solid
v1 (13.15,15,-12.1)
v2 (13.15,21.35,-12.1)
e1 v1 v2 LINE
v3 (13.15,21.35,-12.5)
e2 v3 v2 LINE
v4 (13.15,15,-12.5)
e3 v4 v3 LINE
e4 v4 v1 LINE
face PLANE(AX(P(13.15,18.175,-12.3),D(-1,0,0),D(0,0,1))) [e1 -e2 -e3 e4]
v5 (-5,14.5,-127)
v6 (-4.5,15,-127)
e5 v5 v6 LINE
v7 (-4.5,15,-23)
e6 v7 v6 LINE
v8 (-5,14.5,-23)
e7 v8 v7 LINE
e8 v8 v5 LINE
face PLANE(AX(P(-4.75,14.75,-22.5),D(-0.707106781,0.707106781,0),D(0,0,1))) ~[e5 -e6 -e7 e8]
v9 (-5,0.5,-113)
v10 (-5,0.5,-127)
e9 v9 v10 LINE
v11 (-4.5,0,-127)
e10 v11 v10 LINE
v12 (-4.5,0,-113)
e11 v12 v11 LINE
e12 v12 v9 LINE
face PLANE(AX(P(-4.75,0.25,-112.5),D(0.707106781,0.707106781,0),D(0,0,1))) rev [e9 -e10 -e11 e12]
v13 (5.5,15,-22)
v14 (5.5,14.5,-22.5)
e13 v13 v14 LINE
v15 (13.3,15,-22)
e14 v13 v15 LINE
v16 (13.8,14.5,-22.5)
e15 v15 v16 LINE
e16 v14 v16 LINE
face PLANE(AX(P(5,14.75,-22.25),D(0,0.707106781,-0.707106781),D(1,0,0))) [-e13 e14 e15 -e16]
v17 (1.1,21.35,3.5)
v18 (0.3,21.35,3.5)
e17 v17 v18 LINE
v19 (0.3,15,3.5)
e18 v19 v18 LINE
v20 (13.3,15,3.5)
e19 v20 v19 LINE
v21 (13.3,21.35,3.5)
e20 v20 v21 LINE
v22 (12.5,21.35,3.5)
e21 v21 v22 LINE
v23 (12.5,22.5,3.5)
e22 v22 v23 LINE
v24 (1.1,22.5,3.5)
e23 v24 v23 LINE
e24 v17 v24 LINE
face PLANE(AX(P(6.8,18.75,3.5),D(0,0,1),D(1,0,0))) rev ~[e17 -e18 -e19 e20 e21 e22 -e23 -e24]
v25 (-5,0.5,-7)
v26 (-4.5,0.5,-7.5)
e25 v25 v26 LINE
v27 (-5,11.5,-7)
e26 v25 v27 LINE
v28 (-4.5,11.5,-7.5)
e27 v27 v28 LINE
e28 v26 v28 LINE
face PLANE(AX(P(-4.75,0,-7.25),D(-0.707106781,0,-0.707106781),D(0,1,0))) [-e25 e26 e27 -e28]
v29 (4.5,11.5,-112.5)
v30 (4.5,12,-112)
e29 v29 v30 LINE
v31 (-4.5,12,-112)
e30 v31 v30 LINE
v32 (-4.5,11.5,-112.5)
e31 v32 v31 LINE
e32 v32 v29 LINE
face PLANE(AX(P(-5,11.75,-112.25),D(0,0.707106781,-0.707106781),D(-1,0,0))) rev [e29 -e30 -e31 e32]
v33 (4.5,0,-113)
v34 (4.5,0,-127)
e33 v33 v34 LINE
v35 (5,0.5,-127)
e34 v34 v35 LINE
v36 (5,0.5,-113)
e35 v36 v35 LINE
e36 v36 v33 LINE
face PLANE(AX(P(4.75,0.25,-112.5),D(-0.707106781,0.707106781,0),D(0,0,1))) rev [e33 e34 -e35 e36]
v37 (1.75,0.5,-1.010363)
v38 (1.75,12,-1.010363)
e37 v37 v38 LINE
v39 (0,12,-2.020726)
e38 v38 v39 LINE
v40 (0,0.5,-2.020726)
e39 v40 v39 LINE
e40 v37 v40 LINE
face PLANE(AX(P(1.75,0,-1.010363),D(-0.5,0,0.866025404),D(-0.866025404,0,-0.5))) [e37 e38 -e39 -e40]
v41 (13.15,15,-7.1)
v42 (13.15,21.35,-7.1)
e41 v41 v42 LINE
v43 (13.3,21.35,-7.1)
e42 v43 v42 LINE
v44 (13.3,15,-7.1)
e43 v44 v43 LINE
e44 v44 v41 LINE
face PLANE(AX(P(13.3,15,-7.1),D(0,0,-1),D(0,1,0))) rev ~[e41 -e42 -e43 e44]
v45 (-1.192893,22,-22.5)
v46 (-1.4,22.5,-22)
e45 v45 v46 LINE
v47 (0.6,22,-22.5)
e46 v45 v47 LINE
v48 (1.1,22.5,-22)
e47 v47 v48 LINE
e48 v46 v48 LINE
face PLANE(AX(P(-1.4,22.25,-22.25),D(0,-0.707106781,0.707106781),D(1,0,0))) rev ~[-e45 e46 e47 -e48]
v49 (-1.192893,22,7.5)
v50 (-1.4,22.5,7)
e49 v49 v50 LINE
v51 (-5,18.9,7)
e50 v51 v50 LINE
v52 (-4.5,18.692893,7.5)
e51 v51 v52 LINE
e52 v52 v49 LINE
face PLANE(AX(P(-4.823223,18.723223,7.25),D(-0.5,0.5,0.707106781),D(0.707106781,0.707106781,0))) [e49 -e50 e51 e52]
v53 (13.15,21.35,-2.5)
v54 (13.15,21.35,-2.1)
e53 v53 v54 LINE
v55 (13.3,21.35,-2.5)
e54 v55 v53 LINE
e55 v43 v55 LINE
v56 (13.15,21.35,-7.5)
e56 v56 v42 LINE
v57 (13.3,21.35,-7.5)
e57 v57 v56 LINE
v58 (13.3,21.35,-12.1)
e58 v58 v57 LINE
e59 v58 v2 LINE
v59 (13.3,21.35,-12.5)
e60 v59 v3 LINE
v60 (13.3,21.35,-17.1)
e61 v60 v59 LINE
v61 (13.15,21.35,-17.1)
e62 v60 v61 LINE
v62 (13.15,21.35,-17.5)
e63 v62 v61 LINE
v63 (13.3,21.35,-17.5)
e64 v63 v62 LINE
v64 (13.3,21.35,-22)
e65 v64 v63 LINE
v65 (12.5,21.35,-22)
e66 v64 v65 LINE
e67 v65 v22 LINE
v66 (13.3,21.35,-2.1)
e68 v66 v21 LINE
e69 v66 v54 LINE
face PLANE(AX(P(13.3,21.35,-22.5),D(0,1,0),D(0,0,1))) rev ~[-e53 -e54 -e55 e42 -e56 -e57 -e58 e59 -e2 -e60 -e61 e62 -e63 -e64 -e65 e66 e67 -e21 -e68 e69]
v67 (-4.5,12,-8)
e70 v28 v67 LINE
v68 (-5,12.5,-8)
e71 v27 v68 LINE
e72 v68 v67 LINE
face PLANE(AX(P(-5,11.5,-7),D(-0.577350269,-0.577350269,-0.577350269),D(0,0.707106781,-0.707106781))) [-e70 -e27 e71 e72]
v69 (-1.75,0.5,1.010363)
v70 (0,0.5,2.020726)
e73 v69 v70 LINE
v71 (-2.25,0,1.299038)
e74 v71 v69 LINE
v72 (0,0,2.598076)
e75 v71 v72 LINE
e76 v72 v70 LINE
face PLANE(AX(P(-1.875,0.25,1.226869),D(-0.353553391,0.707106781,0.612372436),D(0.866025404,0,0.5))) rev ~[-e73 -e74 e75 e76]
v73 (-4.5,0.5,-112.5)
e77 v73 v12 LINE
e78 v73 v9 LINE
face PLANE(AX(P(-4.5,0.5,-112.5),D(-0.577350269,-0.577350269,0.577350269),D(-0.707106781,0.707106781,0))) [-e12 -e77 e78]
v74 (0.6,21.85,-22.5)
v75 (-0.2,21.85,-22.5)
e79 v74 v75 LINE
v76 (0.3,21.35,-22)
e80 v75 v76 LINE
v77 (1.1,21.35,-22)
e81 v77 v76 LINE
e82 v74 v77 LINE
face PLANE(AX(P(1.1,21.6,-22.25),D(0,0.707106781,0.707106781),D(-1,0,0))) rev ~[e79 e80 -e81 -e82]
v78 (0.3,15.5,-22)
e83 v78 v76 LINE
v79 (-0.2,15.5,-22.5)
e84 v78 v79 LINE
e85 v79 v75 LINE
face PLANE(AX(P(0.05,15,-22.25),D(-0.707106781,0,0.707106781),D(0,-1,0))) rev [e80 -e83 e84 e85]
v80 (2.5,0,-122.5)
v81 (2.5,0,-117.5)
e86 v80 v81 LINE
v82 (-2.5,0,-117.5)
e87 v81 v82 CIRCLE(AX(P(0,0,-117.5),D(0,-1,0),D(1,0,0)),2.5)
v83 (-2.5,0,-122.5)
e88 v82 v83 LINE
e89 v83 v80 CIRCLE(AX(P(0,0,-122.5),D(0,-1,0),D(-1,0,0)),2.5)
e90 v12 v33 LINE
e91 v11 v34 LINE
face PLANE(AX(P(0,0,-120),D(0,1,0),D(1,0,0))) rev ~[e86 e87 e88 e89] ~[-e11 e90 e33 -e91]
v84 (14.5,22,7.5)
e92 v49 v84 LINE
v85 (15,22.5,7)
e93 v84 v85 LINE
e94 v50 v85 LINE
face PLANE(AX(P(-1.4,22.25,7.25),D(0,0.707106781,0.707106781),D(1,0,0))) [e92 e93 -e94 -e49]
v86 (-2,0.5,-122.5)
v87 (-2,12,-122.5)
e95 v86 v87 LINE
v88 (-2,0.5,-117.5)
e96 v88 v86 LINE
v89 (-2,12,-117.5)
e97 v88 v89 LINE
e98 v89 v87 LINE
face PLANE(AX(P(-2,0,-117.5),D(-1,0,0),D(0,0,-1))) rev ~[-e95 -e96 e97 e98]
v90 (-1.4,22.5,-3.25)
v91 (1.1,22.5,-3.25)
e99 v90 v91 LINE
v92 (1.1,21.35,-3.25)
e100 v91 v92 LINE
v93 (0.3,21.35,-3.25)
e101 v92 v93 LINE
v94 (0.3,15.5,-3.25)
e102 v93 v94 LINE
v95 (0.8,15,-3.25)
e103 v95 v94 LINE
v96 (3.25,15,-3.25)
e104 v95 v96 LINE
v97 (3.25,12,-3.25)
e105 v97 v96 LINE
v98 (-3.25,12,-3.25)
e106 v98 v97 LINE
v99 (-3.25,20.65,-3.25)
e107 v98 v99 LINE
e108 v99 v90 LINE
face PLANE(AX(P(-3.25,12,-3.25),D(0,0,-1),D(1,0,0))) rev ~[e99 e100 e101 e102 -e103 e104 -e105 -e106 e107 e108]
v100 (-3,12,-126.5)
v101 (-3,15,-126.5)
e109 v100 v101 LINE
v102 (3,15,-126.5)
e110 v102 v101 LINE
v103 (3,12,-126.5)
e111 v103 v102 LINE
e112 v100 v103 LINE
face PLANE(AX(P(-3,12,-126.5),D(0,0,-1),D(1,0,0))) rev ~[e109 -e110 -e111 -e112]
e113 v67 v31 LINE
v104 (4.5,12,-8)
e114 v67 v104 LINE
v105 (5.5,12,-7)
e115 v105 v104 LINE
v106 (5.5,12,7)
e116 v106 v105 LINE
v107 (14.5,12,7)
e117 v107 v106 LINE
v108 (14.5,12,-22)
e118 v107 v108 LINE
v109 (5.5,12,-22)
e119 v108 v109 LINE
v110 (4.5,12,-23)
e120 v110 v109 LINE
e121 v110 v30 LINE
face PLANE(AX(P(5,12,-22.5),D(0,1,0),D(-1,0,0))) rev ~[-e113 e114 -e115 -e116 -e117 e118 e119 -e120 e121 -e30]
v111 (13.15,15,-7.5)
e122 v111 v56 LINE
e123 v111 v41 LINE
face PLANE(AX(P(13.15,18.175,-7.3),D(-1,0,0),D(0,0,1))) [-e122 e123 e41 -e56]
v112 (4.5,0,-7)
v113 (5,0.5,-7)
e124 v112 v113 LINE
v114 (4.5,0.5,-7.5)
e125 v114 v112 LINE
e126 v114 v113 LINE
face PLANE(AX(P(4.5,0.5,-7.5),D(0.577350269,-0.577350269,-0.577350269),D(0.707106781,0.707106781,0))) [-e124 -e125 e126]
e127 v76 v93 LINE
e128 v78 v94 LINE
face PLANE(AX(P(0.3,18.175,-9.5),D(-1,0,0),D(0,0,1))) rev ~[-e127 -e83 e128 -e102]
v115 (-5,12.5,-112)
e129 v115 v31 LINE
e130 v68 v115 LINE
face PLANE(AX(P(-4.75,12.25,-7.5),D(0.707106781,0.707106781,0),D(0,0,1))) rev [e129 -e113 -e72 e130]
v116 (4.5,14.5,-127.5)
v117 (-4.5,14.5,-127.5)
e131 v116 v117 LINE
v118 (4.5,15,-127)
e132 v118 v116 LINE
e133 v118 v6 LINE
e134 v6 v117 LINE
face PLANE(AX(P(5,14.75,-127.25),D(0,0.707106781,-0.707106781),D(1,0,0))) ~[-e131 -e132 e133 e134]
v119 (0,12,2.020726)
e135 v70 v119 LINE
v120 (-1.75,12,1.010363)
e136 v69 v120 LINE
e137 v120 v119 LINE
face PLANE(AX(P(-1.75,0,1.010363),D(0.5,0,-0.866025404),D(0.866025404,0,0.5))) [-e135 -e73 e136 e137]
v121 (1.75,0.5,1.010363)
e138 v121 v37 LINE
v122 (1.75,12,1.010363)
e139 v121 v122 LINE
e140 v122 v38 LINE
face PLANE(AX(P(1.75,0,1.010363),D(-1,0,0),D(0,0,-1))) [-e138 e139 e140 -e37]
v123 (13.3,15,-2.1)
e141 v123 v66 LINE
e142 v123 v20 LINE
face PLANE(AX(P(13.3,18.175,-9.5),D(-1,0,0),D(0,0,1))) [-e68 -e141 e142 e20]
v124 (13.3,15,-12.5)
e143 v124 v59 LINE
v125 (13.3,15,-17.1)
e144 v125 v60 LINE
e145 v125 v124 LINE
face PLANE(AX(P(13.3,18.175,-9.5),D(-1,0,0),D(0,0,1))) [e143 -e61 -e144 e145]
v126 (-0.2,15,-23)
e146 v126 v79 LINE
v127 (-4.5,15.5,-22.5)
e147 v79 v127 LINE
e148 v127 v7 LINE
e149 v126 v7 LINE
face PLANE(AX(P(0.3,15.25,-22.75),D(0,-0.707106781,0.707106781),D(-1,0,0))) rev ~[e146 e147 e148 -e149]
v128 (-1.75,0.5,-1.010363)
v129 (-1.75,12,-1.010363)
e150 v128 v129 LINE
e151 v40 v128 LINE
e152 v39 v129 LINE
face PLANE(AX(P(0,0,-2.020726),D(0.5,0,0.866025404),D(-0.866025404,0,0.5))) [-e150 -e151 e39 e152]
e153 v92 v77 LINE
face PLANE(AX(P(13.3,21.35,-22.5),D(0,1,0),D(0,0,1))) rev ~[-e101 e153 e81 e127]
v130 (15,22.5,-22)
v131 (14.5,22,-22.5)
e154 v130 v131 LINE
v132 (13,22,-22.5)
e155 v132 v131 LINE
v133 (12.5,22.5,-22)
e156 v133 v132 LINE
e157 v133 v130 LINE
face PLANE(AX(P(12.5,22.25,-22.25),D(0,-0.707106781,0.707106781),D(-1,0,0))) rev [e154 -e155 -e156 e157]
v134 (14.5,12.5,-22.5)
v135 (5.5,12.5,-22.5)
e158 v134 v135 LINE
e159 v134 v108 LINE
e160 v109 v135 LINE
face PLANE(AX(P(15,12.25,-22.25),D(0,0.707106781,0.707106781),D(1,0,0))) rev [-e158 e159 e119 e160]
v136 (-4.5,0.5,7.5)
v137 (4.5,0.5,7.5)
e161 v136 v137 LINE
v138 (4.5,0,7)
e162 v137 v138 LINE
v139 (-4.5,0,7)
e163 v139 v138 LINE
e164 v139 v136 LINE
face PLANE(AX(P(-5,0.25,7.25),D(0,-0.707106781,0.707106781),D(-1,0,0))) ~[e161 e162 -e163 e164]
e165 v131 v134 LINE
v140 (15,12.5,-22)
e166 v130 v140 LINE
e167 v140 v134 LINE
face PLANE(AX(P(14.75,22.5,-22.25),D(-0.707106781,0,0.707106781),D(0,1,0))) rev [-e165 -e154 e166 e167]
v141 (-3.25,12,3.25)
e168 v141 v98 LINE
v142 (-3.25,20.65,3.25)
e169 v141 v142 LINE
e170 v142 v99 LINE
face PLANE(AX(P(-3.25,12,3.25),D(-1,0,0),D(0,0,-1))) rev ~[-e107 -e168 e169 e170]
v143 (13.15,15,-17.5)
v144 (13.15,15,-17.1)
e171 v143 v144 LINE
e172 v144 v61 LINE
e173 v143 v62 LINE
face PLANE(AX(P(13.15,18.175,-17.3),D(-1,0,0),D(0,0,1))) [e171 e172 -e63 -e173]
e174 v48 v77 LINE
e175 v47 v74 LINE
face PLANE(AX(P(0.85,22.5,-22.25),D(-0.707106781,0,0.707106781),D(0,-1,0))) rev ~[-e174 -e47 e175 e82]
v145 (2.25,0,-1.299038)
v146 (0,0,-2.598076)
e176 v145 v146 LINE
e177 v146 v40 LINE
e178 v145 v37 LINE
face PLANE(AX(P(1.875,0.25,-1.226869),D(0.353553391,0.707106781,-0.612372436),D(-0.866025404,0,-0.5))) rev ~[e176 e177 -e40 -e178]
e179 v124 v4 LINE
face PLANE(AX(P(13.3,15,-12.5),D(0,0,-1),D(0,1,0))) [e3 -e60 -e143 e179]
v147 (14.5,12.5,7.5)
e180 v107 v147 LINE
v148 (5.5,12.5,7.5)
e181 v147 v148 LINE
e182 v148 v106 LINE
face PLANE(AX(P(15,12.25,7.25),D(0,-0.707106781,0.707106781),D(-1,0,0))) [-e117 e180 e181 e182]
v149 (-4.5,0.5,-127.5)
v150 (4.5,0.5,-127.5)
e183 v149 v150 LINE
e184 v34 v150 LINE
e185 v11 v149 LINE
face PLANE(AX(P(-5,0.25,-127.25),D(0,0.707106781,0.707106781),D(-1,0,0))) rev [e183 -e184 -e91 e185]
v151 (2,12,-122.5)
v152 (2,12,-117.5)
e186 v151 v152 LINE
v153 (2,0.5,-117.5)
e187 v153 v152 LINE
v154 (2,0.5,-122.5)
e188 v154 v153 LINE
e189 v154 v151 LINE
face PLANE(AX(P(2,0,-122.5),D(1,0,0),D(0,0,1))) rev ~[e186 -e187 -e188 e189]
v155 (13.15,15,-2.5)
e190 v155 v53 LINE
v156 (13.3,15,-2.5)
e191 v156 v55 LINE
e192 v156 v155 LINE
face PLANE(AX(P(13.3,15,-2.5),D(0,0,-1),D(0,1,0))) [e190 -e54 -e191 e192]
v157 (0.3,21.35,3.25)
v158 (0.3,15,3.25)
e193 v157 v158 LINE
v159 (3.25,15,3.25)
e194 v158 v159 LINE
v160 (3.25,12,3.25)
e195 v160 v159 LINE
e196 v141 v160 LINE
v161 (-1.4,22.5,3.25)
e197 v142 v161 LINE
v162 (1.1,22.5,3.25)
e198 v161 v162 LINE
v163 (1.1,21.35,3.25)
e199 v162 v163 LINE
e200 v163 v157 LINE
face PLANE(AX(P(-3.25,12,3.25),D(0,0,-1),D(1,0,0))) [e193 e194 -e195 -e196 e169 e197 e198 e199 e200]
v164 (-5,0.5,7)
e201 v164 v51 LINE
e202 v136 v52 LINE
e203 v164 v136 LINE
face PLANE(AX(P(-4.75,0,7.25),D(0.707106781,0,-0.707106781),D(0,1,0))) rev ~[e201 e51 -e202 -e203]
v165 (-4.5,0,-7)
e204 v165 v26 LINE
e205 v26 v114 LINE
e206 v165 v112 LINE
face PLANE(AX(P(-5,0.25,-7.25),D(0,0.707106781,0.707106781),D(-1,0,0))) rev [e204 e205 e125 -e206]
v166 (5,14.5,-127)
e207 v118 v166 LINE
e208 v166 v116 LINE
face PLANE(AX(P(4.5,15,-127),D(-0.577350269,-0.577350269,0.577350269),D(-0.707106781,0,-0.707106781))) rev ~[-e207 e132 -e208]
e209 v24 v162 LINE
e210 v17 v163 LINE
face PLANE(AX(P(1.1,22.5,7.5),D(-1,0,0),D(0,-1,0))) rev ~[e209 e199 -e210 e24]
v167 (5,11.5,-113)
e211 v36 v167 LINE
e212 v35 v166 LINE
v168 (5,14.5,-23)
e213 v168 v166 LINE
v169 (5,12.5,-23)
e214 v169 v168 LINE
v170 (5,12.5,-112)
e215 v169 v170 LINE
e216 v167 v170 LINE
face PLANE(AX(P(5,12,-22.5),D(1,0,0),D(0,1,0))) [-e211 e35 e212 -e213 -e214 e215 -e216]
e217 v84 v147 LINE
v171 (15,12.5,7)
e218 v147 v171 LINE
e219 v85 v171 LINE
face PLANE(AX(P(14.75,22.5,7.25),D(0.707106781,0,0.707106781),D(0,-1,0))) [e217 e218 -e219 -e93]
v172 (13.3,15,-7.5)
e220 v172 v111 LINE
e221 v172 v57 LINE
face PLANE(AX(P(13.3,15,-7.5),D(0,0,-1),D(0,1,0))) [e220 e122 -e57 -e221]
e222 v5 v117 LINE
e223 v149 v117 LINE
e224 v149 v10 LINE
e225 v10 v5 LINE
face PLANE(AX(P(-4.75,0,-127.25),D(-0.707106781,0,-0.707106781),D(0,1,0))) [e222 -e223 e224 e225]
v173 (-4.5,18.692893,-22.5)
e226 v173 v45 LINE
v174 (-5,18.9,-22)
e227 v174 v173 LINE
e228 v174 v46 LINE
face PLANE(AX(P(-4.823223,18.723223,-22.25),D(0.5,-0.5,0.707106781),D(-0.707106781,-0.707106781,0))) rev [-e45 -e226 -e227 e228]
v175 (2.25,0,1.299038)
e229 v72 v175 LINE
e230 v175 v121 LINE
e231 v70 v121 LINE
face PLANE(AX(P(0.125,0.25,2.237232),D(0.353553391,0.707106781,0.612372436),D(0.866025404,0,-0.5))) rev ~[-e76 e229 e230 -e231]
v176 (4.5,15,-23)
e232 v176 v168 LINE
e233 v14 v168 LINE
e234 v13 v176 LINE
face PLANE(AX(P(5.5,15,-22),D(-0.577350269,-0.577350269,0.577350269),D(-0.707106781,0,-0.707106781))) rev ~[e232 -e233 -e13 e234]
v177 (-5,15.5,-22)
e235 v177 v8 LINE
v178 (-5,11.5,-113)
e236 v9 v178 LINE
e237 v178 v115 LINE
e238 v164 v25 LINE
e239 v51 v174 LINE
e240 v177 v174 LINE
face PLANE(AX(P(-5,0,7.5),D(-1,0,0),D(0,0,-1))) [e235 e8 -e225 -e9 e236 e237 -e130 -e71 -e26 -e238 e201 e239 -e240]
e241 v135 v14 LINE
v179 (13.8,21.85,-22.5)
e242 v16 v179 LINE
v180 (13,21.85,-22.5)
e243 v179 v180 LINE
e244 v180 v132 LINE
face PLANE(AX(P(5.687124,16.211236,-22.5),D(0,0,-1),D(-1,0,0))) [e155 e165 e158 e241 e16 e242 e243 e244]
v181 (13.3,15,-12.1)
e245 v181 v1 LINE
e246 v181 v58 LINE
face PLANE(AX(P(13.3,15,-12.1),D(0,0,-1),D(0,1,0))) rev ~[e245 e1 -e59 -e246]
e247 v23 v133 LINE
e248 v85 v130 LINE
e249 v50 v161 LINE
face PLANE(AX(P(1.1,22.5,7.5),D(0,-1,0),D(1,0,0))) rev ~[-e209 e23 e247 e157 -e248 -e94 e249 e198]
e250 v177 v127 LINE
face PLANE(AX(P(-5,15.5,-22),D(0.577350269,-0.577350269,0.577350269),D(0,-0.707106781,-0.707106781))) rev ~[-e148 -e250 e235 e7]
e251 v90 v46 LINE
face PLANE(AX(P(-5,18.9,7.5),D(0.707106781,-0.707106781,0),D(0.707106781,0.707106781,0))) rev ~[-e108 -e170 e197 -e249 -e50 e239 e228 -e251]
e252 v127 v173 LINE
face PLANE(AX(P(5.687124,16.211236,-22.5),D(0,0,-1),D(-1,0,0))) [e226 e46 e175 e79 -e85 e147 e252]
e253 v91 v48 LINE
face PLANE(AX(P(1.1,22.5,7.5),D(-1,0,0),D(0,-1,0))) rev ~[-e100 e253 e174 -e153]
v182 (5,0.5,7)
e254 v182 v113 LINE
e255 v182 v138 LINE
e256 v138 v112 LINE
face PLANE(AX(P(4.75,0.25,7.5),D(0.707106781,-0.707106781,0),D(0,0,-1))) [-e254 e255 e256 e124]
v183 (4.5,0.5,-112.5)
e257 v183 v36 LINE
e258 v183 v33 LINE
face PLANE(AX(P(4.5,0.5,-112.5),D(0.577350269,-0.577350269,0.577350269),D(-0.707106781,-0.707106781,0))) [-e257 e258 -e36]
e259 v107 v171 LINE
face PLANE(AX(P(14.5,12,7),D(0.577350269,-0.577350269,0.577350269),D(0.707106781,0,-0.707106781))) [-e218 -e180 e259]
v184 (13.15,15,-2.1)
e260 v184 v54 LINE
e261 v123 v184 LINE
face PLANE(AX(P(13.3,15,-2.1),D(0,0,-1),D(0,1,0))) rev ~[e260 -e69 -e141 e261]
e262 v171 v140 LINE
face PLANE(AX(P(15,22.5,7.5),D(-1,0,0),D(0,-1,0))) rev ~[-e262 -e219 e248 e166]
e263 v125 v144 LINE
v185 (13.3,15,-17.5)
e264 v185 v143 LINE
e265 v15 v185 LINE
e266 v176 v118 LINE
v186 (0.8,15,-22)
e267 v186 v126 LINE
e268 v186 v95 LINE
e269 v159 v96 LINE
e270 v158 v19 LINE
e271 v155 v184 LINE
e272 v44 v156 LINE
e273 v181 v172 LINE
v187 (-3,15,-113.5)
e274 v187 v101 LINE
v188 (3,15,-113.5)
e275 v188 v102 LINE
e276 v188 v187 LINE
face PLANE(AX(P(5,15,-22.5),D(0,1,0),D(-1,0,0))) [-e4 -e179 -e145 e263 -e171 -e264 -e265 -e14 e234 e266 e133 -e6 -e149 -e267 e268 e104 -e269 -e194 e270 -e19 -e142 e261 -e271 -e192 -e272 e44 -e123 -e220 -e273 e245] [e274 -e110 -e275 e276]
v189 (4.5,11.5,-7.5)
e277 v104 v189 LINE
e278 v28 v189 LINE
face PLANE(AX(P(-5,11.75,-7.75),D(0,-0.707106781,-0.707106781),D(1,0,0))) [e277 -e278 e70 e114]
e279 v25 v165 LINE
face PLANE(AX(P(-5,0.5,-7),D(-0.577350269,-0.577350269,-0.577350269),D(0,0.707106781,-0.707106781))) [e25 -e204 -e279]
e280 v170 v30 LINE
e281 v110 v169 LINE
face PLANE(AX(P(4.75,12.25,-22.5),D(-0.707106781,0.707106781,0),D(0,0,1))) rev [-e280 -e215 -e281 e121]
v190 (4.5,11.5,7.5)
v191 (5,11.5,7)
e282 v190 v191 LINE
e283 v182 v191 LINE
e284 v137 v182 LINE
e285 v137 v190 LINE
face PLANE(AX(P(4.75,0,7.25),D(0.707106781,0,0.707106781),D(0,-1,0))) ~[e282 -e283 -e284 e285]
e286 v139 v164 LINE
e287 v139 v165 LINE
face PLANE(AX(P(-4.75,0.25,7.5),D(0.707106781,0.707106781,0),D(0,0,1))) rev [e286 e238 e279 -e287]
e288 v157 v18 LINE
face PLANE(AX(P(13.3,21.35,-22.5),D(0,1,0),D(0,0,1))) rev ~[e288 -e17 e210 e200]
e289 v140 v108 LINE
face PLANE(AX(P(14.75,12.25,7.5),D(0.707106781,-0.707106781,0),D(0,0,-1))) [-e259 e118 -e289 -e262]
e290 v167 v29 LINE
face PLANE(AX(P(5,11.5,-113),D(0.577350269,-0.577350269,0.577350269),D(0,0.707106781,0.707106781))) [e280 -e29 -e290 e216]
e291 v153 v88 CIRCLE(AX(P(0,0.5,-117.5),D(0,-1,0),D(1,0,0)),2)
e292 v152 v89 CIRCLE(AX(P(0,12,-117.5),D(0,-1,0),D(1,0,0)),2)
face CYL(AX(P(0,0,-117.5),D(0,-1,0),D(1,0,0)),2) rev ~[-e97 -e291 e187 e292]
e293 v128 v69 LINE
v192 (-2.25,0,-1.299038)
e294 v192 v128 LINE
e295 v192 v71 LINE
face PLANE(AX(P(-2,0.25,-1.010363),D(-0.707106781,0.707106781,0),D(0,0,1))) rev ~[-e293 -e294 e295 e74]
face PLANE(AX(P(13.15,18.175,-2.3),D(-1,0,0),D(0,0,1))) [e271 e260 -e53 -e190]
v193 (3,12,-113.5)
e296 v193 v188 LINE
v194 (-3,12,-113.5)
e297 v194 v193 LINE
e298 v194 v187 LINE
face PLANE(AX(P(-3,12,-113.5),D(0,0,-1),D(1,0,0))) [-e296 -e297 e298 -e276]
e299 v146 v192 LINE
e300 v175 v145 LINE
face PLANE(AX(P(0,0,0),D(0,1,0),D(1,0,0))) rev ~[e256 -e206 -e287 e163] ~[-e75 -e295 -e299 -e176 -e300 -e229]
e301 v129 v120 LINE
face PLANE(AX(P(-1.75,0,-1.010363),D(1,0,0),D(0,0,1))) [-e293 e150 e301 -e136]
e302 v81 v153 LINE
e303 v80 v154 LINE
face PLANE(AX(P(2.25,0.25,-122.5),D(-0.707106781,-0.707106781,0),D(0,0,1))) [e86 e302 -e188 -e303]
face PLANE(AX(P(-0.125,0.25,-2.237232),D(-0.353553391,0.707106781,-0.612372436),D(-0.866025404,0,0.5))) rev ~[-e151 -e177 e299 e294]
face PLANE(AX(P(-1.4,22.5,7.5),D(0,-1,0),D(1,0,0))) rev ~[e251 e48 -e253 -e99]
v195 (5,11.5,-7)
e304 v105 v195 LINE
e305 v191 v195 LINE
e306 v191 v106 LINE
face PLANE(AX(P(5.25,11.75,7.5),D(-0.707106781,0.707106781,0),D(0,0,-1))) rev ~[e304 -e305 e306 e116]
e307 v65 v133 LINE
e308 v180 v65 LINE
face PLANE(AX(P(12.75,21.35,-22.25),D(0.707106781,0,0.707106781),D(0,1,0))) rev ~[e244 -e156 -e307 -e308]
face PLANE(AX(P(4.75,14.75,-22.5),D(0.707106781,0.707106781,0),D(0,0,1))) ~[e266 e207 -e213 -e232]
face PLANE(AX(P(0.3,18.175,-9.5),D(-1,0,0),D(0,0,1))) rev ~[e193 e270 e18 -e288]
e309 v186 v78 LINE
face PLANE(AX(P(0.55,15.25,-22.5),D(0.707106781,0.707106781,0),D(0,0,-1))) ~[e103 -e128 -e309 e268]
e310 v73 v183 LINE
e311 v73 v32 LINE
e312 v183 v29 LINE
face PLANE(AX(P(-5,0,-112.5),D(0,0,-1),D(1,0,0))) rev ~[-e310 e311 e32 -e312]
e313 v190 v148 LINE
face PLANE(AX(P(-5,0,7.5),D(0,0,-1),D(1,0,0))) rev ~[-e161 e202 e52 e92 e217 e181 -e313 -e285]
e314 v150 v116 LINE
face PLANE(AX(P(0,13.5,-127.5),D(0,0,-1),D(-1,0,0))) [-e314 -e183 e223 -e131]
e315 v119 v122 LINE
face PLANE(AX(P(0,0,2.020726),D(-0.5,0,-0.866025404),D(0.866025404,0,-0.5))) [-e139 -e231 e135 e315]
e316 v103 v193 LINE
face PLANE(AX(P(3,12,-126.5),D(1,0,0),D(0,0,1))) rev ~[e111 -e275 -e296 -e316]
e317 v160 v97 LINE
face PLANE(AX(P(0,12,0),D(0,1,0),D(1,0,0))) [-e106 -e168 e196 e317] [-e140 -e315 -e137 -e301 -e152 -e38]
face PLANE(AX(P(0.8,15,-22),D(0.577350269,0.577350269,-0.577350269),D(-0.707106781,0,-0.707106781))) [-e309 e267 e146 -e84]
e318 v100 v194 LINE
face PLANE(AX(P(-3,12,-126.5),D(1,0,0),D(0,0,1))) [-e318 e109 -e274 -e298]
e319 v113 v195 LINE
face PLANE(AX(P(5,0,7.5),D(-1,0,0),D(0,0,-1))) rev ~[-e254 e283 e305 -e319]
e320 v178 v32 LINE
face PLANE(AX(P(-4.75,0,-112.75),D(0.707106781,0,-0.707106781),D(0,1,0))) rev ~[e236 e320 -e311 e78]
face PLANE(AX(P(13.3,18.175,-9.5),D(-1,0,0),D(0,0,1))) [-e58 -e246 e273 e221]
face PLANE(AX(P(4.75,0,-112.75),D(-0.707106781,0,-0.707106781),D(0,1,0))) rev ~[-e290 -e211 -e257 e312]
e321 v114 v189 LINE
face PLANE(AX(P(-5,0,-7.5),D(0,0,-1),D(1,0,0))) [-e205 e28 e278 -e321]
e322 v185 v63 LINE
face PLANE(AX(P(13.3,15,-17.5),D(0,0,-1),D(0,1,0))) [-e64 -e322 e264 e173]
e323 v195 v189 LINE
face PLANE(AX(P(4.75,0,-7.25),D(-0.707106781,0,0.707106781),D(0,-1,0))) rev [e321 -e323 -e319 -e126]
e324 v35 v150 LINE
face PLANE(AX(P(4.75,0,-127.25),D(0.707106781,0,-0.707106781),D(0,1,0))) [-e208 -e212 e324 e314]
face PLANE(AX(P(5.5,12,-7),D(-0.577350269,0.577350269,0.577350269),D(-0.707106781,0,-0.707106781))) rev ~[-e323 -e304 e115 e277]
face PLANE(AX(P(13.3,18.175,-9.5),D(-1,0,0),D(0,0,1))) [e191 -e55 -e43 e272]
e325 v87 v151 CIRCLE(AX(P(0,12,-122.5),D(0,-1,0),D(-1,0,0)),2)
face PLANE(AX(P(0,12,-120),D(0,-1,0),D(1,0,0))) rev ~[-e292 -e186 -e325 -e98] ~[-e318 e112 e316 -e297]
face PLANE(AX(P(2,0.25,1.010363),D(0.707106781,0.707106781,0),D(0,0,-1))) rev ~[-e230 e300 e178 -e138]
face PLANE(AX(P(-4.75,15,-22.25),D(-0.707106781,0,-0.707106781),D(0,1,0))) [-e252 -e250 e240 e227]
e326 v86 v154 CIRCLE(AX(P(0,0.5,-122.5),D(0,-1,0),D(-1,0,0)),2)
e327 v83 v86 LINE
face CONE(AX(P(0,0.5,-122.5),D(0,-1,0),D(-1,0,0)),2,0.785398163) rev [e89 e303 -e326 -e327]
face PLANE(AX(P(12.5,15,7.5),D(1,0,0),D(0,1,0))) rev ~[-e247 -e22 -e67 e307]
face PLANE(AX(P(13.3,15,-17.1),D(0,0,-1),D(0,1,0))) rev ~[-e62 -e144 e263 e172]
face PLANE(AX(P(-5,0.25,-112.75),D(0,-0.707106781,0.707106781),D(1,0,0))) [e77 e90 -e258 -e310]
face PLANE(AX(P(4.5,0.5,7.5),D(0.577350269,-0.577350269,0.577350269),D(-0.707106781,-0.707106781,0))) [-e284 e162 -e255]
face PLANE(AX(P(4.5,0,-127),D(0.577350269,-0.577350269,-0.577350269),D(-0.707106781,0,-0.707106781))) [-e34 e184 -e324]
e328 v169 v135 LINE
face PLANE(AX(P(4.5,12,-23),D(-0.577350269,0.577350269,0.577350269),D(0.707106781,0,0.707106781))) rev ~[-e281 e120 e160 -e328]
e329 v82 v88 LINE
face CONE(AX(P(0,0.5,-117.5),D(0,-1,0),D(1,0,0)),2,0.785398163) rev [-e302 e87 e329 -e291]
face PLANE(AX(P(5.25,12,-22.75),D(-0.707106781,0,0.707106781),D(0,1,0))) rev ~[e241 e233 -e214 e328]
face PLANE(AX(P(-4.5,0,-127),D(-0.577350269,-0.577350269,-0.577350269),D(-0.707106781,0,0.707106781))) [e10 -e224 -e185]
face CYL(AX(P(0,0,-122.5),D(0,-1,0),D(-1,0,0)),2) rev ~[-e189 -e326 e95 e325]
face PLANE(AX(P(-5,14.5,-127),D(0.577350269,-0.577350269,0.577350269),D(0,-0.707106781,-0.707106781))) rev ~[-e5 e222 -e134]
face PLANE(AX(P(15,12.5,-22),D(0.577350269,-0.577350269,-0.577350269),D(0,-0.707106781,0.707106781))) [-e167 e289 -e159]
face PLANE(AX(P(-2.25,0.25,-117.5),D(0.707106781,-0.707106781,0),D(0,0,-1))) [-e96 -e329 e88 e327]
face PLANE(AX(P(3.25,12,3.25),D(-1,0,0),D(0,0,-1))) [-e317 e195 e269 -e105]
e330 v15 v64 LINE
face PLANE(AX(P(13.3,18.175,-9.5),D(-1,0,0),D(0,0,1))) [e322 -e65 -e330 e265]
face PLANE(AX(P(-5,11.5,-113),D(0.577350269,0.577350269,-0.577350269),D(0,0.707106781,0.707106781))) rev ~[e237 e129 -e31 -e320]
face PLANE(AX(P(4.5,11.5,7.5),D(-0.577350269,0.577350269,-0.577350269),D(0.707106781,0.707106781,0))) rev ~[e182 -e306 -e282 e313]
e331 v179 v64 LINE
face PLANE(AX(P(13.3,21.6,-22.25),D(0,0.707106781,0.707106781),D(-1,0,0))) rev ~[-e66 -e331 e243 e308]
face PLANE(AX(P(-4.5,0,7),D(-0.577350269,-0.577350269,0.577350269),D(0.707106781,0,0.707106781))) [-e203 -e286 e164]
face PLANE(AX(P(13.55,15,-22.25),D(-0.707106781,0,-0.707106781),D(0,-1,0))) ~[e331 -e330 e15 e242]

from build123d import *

# Parameters (mm, degrees)
SKETCH2_W             = 10
SKETCH2_H             = 15
BOSS_EXTRUDE1_DEPTH   = 12
BOSS_EXTRUDE1_2_DEPTH = 12
BOSS_EXTRUDE2_DEPTH   = 30
CUT_EXTRUDE3_START    = -0.8
SKETCH5_W             = 26
SKETCH5_H             = 6.35
CUT_EXTRUDE3_DEPTH    = 13
SKETCH9_W             = 6.5
SKETCH9_H             = 6.5
CUT_EXTRUDE7_DEPTH    = 129.938939037
SKETCH11_W            = 11.4
SKETCH11_H            = 7.5
BOSS_EXTRUDE3_DEPTH   = 4
SKETCH12_W            = 10
SKETCH12_H            = 3
BOSS_EXTRUDE4_DEPTH   = 105
SKETCH13_W            = 6
SKETCH13_H            = 13
CUT_EXTRUDE9_DEPTH    = 129.938939037
SKETCH16_W            = 0.4
SKETCH16_H            = 6.35
BOSS_EXTRUDE5_DEPTH   = 0.15
CHAMFER3_SIZE         = 0.5


with BuildPart() as part:
    # Sketch2 → Boss-Extrude1 (new body)
    with BuildSketch(Plane(origin=(0, 0, 0), x_dir=(1, 0, 0), z_dir=(0, 1, 0))):
        Rectangle(SKETCH2_W, SKETCH2_H)
        Polygon((-1.75, -1.010362971), (0, -2.020725942), (1.75, -1.010362971), (1.75, 1.010362971), (0, 2.020725942), (-1.75, 1.010362971), align=None, mode=Mode.SUBTRACT)
    extrude(amount=BOSS_EXTRUDE1_DEPTH)


with BuildPart() as body_2:
    # Sketch2 → Boss-Extrude1 2 (new body)
    with BuildSketch(Plane(origin=(0, 0, 0), x_dir=(1, 0, 0), z_dir=(0, 1, 0))):
        with Locations((0, 120)):
            Rectangle(SKETCH2_W, SKETCH2_H)
        with BuildLine():
            Line((-2, 117.5), (-2, 122.5))
            ThreePointArc((-2, 122.5), (0, 124.5), (2, 122.5))
            Line((2, 122.5), (2, 117.5))
            ThreePointArc((2, 117.5), (0, 115.5), (-2, 117.5))
        make_face(mode=Mode.SUBTRACT)
    extrude(amount=BOSS_EXTRUDE1_2_DEPTH)



with BuildPart() as body_3:
    # Sketch3 → Boss-Extrude2 (new body)
    with BuildSketch(Plane.XY.offset(7.5)):
        Polygon((-1.4, 22.5), (1.1, 22.5), (1.1, 15), (12.5, 15), (12.5, 22.5), (15, 22.5), (15, 12), (-5, 12), (-5, 18.9), align=None)
    extrude(amount=-BOSS_EXTRUDE2_DEPTH)

    # Sketch5 → Cut-Extrude3 (cut)
    with BuildSketch(Plane.ZY.offset(-12.5).offset(CUT_EXTRUDE3_START)):
        with Locations((-9.5, 18.175)):
            Rectangle(SKETCH5_W, SKETCH5_H)
    extrude(amount=CUT_EXTRUDE3_DEPTH, mode=Mode.SUBTRACT)

    # Sketch9 → Cut-Extrude7 (cut, through all)
    with BuildSketch(Plane(origin=(0, 12, 0), x_dir=(1, 0, 0), z_dir=(0, 1, 0))):
        Rectangle(SKETCH9_W, SKETCH9_H)
    extrude(amount=CUT_EXTRUDE7_DEPTH, mode=Mode.SUBTRACT)

    # Sketch11 → Boss-Extrude3 (add)
    with BuildSketch(Plane.XY.offset(7.5)):
        with Locations((6.8, 18.75)):
            Rectangle(SKETCH11_W, SKETCH11_H)
    extrude(amount=-BOSS_EXTRUDE3_DEPTH)


with BuildPart() as body_2_1:
    add(body_2.part)

    add(body_3.part)  # Boss-Extrude4 merges body 3
    # Sketch12 → Boss-Extrude4 (add)
    with BuildSketch(Plane(origin=(0, 0, -22.5), x_dir=(-1, 0, 0), z_dir=(0, 0, -1))):
        with Locations((0, 13.5)):
            Rectangle(SKETCH12_W, SKETCH12_H)
    extrude(amount=BOSS_EXTRUDE4_DEPTH)

    # Sketch13 → Cut-Extrude9 (cut, through all)
    with BuildSketch(Plane.XZ.offset(-12)):
        with Locations((0, -120)):
            Rectangle(SKETCH13_W, SKETCH13_H)
    extrude(amount=-CUT_EXTRUDE9_DEPTH, mode=Mode.SUBTRACT)

    # Combine2: union part
    add(part.part)

    # Sketch16 → Boss-Extrude5 (add)
    with BuildSketch(Plane.ZY.offset(-13.3)):
        with Locations((-17.3, 18.175)):
            Rectangle(SKETCH16_W, SKETCH16_H)
        with Locations((-12.3, 18.175)):
            Rectangle(SKETCH16_W, SKETCH16_H)
        with Locations((-7.3, 18.175)):
            Rectangle(SKETCH16_W, SKETCH16_H)
        with Locations((-2.3, 18.175)):
            Rectangle(SKETCH16_W, SKETCH16_H)
    extrude(amount=BOSS_EXTRUDE5_DEPTH)

    # Chamfer3
    chamfer3_edges = [body_2_1.edges().sort_by_distance(p)[0] for p in [
        (10, 12, -22.5),
        (5, 7.5, -127.5),
        (5, 15, -75),
        (5, 13.5, -22.5),
        (0, 15, -127.5),
        (-5, 15, -75),
        (-2.35, 15, -22.5),
        (-5, 7.5, -127.5),
        (-5, 12, -60),
        (5, 12, -67.5),
        (0, 12, -112.5),
        (-2, 0, -120),
        (0, 0, -115.5),
        (2, 0, -120),
        (0, 0, -124.5),
        (5, 0, -120),
        (5, 6, -112.5),
        (0, 0, -127.5),
        (-5, 0, -120),
        (0, 0, -112.5),
        (-5, 6, -112.5),
        (15, 17.25, 7.5),
        (-5, 9.45, 7.5),
        (15, 17.25, -22.5),
        (10, 12, 7.5),
        (5, 12, 0),
        (0, 12, -7.5),
        (-0.875, 0, -1.515544457),
        (-1.75, 0, 0),
        (-0.875, 0, 1.515544457),
        (0.875, 0, 1.515544457),
        (1.75, 0, 0),
        (0.875, 0, -1.515544457),
        (5, 0, 0),
        (5, 6, 7.5),
        (0, 0, -7.5),
        (5, 6, -7.5),
        (-5, 0, 0),
        (-5, 6, -7.5),
        (0, 0, 7.5),
        (15, 12, -7.5),
        (13.75, 22.5, -22.5),
        (12.5, 21.925, -22.5),
        (9.15, 15, -22.5),
        (1.1, 21.925, -22.5),
        (12.9, 21.35, -22.5),
        (-0.15, 22.5, -22.5),
        (0.7, 21.35, -22.5),
        (0.3, 18.175, -22.5),
        (13.3, 18.175, -22.5),
        (-3.2, 20.7, -22.5),
        (-5, 16.95, -22.5),
        (0.3, 15, -12.875),
        (-3.2, 20.7, 7.5),
        (6.8, 22.5, 7.5),
    ]]
    chamfer(chamfer3_edges, length=CHAMFER3_SIZE)


solid = body_2_1.part
